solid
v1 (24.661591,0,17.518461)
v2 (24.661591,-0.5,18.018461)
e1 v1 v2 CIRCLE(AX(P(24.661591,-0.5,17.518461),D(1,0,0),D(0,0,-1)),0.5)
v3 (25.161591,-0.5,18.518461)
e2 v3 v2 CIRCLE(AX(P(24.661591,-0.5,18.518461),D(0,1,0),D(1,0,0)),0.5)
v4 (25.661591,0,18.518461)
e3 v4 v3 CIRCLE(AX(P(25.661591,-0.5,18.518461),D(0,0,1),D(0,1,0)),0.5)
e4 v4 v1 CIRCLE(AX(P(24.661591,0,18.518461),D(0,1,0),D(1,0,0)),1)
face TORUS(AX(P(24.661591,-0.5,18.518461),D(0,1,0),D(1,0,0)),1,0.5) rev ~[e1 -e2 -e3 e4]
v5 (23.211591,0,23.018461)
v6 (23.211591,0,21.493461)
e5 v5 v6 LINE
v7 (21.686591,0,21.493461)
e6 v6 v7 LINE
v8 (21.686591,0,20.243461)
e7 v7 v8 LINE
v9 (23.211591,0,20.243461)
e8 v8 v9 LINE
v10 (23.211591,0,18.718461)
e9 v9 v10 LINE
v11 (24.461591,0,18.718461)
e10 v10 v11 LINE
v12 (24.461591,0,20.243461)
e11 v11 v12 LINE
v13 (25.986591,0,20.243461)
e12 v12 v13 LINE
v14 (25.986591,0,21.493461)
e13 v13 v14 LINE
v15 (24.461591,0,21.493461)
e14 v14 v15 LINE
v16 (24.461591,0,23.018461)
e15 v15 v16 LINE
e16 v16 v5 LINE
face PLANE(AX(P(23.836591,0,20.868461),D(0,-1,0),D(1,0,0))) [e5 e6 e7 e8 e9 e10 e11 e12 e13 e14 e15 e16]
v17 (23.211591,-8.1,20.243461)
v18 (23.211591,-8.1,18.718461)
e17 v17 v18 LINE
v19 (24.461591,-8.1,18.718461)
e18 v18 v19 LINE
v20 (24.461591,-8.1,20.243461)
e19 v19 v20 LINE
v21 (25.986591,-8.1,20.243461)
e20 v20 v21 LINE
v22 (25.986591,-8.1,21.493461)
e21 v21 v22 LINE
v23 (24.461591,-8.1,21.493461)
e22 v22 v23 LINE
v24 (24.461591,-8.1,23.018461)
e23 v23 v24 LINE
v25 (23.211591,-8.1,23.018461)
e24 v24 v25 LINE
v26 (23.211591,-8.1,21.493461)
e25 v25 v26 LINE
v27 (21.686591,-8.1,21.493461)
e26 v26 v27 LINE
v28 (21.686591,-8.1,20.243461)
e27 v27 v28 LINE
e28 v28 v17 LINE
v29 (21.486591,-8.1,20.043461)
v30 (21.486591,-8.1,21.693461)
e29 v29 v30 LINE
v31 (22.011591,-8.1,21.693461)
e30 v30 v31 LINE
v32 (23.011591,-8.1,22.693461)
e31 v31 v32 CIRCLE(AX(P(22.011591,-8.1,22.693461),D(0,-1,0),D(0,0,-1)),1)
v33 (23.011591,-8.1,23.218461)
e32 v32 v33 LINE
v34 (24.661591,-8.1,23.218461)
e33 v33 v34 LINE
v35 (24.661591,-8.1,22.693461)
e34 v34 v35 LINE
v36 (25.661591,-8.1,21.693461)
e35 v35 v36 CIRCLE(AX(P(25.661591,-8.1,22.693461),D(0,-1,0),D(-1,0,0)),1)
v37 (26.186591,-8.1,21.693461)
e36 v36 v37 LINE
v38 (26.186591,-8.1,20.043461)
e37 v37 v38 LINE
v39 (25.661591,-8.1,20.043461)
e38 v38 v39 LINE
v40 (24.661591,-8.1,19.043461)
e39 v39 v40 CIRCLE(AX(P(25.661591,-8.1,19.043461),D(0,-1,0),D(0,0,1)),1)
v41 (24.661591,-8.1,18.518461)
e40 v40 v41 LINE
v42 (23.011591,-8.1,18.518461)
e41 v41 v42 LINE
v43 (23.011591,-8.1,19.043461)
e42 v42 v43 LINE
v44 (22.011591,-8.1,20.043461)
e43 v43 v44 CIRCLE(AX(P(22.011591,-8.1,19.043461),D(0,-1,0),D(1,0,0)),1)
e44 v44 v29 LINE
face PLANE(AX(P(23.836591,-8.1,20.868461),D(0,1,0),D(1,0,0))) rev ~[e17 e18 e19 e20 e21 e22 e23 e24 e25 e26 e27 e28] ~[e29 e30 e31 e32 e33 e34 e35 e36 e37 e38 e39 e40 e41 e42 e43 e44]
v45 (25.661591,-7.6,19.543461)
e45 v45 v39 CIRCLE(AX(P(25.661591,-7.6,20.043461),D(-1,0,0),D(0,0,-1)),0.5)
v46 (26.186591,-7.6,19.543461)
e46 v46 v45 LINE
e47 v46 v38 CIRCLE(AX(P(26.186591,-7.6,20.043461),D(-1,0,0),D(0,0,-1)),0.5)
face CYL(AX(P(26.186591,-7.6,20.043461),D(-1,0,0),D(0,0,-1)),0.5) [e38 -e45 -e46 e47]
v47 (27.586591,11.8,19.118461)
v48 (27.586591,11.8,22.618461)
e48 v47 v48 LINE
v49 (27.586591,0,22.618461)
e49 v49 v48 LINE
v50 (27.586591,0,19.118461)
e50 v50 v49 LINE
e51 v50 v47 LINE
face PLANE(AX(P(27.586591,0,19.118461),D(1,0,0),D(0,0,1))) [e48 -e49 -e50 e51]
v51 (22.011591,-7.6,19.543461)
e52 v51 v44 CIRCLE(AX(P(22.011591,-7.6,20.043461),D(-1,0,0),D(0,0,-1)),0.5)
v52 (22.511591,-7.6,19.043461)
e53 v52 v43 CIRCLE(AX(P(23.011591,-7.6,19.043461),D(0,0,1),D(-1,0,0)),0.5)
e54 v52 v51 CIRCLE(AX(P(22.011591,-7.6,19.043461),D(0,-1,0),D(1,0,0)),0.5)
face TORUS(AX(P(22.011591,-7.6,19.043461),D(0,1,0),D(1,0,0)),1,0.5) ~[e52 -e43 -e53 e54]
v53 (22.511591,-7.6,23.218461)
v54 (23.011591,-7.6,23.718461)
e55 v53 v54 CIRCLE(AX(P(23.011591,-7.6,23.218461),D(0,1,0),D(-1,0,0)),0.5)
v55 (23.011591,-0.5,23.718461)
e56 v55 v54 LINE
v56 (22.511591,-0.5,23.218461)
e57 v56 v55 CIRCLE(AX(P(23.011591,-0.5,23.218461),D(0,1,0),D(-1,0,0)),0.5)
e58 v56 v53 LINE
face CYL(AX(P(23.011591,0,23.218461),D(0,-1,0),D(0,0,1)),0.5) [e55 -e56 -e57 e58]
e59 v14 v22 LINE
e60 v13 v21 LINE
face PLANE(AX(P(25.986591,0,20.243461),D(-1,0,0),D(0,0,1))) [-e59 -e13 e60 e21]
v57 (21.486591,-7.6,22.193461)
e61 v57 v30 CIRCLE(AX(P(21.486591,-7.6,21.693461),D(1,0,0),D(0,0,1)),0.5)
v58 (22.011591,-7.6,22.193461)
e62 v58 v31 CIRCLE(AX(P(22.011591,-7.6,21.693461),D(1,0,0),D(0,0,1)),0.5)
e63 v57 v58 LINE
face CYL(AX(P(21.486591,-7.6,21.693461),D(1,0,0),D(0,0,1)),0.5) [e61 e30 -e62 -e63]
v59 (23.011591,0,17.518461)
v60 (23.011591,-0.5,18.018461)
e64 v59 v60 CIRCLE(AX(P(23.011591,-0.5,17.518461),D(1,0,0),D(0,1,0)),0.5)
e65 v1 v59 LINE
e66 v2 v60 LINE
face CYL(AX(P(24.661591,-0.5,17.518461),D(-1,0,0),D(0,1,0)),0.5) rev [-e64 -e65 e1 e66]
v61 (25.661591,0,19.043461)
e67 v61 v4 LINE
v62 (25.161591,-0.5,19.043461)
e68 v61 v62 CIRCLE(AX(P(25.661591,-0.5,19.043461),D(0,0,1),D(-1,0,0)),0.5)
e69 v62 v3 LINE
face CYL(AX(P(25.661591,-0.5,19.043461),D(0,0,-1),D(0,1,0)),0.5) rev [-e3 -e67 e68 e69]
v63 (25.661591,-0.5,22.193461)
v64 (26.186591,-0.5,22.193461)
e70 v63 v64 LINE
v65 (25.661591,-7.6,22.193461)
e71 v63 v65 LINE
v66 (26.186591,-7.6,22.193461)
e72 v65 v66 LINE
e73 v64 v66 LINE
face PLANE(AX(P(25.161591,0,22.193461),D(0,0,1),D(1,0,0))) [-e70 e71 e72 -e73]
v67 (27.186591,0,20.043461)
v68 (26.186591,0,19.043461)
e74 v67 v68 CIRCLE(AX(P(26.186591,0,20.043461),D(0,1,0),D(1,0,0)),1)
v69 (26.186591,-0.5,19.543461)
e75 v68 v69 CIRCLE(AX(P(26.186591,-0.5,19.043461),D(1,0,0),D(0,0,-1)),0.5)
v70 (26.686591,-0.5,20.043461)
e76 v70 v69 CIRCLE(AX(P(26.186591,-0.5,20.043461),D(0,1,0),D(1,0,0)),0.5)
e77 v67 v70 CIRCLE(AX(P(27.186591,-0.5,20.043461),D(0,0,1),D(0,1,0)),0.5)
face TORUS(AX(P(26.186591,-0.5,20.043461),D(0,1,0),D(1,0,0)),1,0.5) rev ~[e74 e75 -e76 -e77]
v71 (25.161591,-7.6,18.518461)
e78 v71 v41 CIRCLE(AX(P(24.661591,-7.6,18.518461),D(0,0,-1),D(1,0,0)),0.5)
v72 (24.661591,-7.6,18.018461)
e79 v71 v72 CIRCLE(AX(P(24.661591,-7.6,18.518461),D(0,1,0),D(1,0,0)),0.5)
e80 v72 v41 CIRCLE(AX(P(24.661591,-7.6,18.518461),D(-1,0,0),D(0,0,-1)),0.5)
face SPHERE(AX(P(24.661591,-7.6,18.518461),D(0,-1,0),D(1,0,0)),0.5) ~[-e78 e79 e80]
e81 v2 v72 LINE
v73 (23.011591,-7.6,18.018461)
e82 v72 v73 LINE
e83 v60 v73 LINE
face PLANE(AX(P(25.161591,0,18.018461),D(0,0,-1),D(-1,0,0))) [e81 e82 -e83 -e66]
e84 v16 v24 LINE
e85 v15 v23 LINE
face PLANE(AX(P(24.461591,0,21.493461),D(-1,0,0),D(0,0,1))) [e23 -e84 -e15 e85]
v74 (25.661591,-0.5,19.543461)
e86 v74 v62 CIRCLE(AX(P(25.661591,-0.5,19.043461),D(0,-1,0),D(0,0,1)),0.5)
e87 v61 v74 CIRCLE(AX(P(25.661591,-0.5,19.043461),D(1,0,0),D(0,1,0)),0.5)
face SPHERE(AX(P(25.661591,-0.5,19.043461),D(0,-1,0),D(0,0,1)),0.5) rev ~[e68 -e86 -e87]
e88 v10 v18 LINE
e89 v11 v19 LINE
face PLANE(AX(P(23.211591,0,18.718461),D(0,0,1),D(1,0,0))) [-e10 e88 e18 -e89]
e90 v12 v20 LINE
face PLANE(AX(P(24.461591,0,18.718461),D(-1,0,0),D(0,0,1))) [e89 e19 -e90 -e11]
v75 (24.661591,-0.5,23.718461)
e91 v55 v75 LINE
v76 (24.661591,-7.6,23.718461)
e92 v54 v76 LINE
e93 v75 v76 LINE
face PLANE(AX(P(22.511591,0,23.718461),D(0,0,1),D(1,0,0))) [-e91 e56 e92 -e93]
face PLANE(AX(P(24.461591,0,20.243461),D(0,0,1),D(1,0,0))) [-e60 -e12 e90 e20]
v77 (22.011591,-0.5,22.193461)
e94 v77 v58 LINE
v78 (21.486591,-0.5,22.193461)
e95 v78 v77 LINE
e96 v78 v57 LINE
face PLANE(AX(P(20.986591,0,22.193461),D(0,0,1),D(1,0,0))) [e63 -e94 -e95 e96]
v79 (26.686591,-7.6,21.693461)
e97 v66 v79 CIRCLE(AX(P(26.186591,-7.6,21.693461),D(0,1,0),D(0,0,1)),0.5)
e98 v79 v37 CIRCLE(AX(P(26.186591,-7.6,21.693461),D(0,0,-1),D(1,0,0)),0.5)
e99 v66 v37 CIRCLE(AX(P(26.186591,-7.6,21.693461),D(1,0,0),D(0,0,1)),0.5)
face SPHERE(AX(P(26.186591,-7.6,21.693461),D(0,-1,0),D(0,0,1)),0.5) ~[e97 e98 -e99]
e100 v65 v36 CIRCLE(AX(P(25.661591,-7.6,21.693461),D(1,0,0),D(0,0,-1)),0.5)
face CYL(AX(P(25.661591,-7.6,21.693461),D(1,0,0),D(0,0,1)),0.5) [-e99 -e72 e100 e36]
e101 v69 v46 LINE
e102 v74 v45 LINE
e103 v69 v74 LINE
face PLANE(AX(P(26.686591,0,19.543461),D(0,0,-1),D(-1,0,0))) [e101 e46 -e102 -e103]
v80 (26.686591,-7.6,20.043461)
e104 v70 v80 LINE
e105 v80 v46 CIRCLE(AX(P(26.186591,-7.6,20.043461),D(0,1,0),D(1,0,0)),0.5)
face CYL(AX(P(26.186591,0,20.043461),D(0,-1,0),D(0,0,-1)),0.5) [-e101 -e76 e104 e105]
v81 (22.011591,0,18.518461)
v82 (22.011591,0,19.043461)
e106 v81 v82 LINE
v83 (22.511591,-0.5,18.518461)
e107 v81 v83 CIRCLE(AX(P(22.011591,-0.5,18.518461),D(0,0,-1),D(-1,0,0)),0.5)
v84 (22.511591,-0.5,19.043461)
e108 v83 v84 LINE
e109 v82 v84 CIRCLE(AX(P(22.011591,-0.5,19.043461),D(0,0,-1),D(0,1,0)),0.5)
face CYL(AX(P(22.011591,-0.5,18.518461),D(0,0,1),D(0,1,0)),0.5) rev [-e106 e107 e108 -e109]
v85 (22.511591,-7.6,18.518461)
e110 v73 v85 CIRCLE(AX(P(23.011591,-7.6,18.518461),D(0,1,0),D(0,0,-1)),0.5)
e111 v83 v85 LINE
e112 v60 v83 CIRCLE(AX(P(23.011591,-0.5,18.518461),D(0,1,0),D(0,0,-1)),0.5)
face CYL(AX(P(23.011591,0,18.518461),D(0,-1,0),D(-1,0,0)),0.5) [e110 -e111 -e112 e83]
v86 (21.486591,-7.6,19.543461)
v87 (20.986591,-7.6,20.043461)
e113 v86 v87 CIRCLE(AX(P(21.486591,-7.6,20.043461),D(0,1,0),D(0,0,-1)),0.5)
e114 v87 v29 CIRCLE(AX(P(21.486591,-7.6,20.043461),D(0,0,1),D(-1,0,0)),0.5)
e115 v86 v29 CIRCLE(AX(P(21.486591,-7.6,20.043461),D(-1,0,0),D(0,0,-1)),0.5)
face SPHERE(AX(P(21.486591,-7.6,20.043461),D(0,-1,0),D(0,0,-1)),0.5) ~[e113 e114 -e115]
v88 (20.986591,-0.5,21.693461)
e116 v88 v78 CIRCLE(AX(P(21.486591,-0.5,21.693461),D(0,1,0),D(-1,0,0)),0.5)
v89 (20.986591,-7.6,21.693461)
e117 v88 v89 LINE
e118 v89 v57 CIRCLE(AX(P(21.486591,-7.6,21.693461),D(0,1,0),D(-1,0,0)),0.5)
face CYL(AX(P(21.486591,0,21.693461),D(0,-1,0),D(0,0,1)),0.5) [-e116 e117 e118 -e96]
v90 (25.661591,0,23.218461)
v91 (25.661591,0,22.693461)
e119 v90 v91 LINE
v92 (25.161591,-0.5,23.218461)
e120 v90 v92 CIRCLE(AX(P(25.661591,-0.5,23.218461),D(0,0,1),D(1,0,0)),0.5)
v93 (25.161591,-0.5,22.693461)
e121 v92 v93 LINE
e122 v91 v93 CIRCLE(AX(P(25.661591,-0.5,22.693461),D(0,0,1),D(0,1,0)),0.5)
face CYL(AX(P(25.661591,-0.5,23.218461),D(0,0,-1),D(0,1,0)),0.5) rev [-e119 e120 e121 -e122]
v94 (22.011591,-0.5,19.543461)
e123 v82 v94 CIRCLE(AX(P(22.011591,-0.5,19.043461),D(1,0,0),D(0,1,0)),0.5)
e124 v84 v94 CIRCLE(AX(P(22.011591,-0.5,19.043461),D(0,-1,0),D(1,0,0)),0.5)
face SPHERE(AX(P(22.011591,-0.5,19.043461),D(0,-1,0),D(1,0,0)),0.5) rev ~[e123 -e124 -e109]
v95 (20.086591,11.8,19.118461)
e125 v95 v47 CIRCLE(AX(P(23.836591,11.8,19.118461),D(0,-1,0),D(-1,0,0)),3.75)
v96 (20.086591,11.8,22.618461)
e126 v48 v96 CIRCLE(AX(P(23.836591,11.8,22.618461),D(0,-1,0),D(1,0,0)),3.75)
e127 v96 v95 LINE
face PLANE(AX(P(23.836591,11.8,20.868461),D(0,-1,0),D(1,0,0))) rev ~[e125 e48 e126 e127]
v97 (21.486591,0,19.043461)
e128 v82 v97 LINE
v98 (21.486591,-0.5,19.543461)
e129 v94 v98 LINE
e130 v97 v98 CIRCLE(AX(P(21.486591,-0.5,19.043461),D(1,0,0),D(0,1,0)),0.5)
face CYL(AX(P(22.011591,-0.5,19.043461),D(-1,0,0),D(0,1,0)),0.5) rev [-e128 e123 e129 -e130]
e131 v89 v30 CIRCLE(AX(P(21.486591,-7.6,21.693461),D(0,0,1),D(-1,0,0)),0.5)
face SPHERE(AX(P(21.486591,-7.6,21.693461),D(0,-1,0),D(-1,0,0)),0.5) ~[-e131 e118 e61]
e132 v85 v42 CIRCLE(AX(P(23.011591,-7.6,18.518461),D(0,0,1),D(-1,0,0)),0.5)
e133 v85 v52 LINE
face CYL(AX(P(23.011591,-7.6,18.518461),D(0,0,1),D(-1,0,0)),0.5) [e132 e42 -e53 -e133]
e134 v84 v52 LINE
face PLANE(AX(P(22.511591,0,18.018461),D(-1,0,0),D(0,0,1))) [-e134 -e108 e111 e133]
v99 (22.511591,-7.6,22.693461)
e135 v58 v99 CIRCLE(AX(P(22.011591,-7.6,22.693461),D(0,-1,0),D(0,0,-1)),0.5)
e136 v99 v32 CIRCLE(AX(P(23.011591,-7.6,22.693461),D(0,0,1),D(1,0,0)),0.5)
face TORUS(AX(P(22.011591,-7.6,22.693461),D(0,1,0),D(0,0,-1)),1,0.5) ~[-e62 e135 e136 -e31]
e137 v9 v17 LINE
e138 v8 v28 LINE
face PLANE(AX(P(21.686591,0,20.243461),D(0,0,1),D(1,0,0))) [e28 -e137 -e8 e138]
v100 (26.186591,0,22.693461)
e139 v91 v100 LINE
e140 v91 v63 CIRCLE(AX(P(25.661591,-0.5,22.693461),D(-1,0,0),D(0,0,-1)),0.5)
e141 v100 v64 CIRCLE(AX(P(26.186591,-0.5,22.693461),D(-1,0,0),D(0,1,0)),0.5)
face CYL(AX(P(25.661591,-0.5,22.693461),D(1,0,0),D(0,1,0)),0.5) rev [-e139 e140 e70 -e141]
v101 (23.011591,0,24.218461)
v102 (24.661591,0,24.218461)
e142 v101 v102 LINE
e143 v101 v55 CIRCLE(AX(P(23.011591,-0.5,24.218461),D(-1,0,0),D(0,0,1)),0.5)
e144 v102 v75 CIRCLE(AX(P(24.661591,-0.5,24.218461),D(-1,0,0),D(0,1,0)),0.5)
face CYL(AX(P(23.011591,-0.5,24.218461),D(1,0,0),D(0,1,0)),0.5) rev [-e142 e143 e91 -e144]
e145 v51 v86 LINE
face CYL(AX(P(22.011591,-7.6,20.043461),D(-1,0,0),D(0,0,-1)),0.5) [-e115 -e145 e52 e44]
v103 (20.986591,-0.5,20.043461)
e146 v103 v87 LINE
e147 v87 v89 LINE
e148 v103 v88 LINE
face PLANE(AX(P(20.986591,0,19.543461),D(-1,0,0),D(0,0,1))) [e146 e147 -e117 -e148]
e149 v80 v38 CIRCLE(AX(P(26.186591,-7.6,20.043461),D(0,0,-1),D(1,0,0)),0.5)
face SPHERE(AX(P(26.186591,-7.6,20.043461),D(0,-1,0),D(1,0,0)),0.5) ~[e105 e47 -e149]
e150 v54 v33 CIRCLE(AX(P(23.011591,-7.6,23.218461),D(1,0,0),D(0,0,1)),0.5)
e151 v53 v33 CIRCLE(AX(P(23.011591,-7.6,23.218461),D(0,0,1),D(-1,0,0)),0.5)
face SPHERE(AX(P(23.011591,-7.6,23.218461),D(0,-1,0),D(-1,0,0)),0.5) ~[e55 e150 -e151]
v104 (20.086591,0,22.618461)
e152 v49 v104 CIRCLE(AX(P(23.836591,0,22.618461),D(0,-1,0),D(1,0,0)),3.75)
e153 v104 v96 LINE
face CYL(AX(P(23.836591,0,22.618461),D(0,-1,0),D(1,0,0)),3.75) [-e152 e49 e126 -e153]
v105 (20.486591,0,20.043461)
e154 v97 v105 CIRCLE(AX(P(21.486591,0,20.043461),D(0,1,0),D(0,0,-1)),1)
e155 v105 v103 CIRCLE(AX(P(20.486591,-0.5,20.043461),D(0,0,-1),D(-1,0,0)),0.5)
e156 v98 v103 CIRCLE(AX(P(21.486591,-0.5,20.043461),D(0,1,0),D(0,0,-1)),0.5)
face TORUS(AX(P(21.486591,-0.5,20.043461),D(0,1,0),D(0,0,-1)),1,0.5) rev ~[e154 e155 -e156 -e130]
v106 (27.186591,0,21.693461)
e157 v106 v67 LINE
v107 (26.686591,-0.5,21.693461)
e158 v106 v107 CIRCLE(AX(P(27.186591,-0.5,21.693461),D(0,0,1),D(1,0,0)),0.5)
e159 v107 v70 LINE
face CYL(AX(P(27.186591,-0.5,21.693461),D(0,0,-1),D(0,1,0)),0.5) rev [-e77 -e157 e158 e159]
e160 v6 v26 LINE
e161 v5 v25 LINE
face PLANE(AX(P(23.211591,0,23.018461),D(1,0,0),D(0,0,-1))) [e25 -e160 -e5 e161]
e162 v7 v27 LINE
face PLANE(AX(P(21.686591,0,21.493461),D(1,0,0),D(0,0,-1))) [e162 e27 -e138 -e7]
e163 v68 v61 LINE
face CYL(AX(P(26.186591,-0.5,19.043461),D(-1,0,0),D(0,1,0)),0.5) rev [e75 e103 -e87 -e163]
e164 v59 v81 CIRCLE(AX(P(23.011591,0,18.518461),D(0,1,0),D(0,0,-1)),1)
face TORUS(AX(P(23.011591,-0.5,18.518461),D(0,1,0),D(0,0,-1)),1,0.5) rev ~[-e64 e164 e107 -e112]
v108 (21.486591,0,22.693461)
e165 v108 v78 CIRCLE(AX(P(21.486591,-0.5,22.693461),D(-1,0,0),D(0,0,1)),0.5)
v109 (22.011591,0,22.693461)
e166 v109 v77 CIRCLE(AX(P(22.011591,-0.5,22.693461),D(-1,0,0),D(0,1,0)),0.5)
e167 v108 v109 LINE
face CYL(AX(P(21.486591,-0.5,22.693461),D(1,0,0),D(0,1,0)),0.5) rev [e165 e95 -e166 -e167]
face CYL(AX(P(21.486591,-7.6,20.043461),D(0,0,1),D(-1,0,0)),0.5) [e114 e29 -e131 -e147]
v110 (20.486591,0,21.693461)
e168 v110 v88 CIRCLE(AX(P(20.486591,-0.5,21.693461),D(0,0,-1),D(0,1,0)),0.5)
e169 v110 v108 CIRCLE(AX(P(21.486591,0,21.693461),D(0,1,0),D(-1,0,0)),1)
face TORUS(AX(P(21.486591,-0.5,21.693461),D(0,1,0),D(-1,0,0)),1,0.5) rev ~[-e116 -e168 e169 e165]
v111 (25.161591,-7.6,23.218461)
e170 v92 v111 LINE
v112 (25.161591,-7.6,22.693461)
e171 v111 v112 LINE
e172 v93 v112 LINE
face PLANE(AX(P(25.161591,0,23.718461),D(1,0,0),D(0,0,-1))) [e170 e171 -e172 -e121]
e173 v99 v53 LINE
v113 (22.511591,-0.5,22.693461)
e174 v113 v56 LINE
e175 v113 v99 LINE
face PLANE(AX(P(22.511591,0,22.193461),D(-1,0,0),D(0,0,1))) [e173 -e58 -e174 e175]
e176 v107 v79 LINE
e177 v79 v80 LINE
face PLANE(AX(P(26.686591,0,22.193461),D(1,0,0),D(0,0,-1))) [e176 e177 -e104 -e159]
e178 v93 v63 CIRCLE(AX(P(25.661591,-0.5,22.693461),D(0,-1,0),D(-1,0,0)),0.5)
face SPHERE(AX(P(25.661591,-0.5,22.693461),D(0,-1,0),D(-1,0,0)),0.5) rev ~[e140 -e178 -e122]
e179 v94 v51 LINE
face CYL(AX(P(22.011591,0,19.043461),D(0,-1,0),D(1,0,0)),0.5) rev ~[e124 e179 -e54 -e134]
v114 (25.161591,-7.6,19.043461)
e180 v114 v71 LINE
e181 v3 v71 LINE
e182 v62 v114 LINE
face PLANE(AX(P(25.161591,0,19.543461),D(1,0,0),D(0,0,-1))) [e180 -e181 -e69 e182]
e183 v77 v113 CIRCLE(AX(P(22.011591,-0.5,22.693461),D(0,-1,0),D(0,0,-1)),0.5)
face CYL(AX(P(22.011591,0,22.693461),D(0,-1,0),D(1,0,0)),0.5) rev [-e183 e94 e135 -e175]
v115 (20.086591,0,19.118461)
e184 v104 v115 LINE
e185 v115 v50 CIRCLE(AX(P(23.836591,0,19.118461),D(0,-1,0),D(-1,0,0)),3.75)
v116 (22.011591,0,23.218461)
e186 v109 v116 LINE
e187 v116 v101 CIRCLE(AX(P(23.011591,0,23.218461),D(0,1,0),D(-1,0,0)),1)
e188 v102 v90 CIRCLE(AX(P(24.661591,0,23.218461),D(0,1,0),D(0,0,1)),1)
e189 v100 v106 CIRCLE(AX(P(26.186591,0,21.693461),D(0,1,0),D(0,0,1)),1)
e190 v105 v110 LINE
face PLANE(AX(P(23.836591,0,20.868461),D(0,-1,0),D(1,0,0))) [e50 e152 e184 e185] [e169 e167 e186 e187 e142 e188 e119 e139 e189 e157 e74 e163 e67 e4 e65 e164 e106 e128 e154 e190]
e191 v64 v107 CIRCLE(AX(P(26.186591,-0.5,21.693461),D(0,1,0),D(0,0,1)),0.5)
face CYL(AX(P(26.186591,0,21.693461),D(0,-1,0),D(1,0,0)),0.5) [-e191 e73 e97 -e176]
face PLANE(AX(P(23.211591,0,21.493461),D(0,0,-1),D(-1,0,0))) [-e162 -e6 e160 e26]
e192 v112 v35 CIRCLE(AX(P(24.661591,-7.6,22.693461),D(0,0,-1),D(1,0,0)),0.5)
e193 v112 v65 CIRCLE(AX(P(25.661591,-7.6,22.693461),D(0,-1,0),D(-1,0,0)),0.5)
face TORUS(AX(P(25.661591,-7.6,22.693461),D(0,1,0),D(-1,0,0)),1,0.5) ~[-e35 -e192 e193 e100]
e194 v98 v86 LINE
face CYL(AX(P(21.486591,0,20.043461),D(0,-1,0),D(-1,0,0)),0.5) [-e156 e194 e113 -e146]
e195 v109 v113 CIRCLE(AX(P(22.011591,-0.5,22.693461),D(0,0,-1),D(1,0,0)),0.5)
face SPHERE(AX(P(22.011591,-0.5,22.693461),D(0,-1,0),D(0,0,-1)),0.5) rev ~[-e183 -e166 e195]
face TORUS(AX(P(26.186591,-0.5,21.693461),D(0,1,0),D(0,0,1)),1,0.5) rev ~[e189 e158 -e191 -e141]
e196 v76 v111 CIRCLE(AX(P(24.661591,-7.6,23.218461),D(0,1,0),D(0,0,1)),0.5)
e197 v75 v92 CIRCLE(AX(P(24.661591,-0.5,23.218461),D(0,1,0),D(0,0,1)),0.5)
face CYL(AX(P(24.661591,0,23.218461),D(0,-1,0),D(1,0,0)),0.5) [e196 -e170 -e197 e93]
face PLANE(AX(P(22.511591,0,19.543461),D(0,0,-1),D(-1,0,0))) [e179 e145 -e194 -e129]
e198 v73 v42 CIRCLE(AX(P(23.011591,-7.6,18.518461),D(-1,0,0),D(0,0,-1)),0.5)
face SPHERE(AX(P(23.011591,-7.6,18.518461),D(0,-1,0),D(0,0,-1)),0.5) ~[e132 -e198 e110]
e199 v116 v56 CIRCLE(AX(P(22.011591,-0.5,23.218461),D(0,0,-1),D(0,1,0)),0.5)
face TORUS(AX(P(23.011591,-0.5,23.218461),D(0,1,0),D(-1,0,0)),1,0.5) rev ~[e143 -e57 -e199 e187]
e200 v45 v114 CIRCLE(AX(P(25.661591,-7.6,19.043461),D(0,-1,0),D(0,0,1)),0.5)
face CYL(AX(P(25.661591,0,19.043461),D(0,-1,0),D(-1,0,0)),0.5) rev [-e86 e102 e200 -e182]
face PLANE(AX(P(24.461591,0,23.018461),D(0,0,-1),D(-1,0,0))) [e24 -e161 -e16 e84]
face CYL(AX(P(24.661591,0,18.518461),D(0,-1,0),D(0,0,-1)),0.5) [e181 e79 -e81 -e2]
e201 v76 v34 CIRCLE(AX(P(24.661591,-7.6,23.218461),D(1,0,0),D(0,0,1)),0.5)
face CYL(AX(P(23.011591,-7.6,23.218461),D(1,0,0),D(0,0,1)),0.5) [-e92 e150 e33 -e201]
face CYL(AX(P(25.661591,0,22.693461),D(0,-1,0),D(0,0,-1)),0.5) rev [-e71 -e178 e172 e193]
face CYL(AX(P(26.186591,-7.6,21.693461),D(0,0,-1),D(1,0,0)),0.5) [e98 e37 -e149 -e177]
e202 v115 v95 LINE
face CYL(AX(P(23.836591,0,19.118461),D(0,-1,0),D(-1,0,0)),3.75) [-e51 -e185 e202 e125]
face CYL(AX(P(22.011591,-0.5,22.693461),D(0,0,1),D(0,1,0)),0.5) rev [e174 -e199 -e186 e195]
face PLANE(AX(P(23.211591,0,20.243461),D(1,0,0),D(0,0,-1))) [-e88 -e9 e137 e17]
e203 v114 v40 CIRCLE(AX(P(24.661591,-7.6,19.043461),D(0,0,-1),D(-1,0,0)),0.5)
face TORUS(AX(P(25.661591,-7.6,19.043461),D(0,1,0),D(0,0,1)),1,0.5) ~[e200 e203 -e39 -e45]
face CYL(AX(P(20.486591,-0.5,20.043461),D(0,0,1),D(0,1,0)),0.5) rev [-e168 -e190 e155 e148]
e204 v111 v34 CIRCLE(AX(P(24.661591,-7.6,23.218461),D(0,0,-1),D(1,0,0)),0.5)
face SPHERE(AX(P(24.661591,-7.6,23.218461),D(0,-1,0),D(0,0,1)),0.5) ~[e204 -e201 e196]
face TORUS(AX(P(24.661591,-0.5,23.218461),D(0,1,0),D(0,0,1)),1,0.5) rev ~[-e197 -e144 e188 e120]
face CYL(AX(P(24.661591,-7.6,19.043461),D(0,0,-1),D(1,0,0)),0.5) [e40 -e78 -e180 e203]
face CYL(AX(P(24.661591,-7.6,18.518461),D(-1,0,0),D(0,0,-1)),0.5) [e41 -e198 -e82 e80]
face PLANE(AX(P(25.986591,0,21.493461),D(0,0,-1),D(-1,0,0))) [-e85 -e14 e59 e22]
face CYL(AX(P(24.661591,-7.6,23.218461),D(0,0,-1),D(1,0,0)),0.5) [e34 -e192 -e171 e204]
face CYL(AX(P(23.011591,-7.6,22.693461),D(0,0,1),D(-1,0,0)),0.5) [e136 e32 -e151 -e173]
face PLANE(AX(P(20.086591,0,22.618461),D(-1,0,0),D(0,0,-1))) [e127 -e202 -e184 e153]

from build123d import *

# Parameters (mm, degrees)
BOSS_EXTRUDE1_DEPTH = 8.1
BOSS_EXTRUDE2_DEPTH = 11.8
FILLET1_R           = 0.5
FILLET2_R           = 0.5
FILLET4_R           = 0.5


with BuildPart() as part:
    # Sketch8 → Boss-Extrude1 (new body)
    with BuildSketch(Plane(origin=(-2.232753674, 0, 0.665681661), x_dir=(-1, 0, 0), z_dir=(0, -1, 0))):
        Polygon((-24.744344877, -18.877779499), (-23.219344877, -18.877779499), (-23.219344877, -21.527779499), (-24.744344877, -21.527779499), (-24.744344877, -23.052779499), (-27.394344877, -23.052779499), (-27.394344877, -21.527779499), (-28.919344877, -21.527779499), (-28.919344877, -18.877779499), (-27.394344877, -18.877779499), (-27.394344877, -17.352779499), (-24.744344877, -17.352779499), align=None)
        Polygon((-26.694344877, -20.827779499), (-26.694344877, -22.352779499), (-25.444344877, -22.352779499), (-25.444344877, -20.827779499), (-23.919344877, -20.827779499), (-23.919344877, -19.577779499), (-25.444344877, -19.577779499), (-25.444344877, -18.052779499), (-26.694344877, -18.052779499), (-26.694344877, -19.577779499), (-28.219344877, -19.577779499), (-28.219344877, -20.827779499), align=None, mode=Mode.SUBTRACT)
    extrude(amount=BOSS_EXTRUDE1_DEPTH)

    # Sketch9 → Boss-Extrude2 (add)
    with BuildSketch(Plane(origin=(0, 0, 0), x_dir=(-1, 0, 0), z_dir=(0, 1, 0))):
        with BuildLine():
            Line((-20.086591203, 22.61846116), (-20.086591203, 19.11846116))
            ThreePointArc((-20.086591203, 19.11846116), (-23.836591203, 15.36846116), (-27.586591203, 19.11846116))
            Line((-27.586591203, 19.11846116), (-27.586591203, 22.61846116))
            ThreePointArc((-27.586591203, 22.61846116), (-23.836591203, 26.36846116), (-20.086591203, 22.61846116))
        make_face()
    extrude(amount=BOSS_EXTRUDE2_DEPTH)

    # Fillet1
    fillet1_edges = [part.edges().sort_by_distance(p)[0] for p in [
        (22.511591203, -4.05, 19.54346116),
        (20.986591203, -4.05, 19.54346116),
        (20.986591203, -4.05, 22.19346116),
        (22.511591203, -4.05, 22.19346116),
        (22.511591203, -4.05, 23.71846116),
        (25.161591203, -4.05, 23.71846116),
        (25.161591203, -4.05, 22.19346116),
        (26.686591203, -4.05, 22.19346116),
        (26.686591203, -4.05, 19.54346116),
        (25.161591203, -4.05, 19.54346116),
        (25.161591203, -4.05, 18.01846116),
        (22.511591203, -4.05, 18.01846116),
    ]]
    fillet(fillet1_edges, radius=FILLET1_R)

    # Fillet2
    fillet2_edges = [part.edges().sort_by_distance(p)[0] for p in [
        (21.749091203, 0, 19.54346116),
        (20.986591203, 0, 20.86846116),
        (21.749091203, 0, 22.19346116),
        (22.511591203, 0, 22.95596116),
        (23.836591203, 0, 23.71846116),
        (25.161591203, 0, 22.95596116),
        (25.924091203, 0, 22.19346116),
        (26.686591203, 0, 20.86846116),
        (25.924091203, 0, 19.54346116),
        (25.161591203, 0, 18.78096116),
        (23.836591203, 0, 18.01846116),
        (25.308037813, 0, 19.39701455),
        (25.308037813, 0, 22.339907769),
        (22.365144594, 0, 22.339907769),
        (22.365144594, 0, 19.39701455),
        (21.133037813, 0, 19.689907769),
        (21.133037813, 0, 22.04701455),
        (22.658037813, 0, 23.57201455),
        (25.015144594, 0, 23.57201455),
        (26.540144594, 0, 22.04701455),
        (26.540144594, 0, 19.689907769),
        (22.658037813, 0, 18.164907769),
        (25.015144594, 0, 18.164907769),
        (22.511591203, 0, 18.78096116),
    ]]
    fillet(fillet2_edges, radius=FILLET2_R)

    # Fillet4
    fillet4_edges = [part.edges().sort_by_distance(p)[0] for p in [
        (21.749091203, -8.1, 19.54346116),
        (20.986591203, -8.1, 20.86846116),
        (23.836591203, -8.1, 18.01846116),
        (25.161591203, -8.1, 18.78096116),
        (25.924091203, -8.1, 19.54346116),
        (26.686591203, -8.1, 20.86846116),
        (25.924091203, -8.1, 22.19346116),
        (25.161591203, -8.1, 22.95596116),
        (23.836591203, -8.1, 23.71846116),
        (22.511591203, -8.1, 22.95596116),
        (21.749091203, -8.1, 22.19346116),
        (25.015144594, -8.1, 18.164907769),
        (22.658037813, -8.1, 18.164907769),
        (26.540144594, -8.1, 19.689907769),
        (26.540144594, -8.1, 22.04701455),
        (25.015144594, -8.1, 23.57201455),
        (22.658037813, -8.1, 23.57201455),
        (21.133037813, -8.1, 22.04701455),
        (21.133037813, -8.1, 19.689907769),
        (22.365144594, -8.1, 19.39701455),
        (22.365144594, -8.1, 22.339907769),
        (25.308037813, -8.1, 22.339907769),
        (25.308037813, -8.1, 19.39701455),
        (22.511591203, -8.1, 18.78096116),
    ]]
    fillet(fillet4_edges, radius=FILLET4_R)


solid = part.part
